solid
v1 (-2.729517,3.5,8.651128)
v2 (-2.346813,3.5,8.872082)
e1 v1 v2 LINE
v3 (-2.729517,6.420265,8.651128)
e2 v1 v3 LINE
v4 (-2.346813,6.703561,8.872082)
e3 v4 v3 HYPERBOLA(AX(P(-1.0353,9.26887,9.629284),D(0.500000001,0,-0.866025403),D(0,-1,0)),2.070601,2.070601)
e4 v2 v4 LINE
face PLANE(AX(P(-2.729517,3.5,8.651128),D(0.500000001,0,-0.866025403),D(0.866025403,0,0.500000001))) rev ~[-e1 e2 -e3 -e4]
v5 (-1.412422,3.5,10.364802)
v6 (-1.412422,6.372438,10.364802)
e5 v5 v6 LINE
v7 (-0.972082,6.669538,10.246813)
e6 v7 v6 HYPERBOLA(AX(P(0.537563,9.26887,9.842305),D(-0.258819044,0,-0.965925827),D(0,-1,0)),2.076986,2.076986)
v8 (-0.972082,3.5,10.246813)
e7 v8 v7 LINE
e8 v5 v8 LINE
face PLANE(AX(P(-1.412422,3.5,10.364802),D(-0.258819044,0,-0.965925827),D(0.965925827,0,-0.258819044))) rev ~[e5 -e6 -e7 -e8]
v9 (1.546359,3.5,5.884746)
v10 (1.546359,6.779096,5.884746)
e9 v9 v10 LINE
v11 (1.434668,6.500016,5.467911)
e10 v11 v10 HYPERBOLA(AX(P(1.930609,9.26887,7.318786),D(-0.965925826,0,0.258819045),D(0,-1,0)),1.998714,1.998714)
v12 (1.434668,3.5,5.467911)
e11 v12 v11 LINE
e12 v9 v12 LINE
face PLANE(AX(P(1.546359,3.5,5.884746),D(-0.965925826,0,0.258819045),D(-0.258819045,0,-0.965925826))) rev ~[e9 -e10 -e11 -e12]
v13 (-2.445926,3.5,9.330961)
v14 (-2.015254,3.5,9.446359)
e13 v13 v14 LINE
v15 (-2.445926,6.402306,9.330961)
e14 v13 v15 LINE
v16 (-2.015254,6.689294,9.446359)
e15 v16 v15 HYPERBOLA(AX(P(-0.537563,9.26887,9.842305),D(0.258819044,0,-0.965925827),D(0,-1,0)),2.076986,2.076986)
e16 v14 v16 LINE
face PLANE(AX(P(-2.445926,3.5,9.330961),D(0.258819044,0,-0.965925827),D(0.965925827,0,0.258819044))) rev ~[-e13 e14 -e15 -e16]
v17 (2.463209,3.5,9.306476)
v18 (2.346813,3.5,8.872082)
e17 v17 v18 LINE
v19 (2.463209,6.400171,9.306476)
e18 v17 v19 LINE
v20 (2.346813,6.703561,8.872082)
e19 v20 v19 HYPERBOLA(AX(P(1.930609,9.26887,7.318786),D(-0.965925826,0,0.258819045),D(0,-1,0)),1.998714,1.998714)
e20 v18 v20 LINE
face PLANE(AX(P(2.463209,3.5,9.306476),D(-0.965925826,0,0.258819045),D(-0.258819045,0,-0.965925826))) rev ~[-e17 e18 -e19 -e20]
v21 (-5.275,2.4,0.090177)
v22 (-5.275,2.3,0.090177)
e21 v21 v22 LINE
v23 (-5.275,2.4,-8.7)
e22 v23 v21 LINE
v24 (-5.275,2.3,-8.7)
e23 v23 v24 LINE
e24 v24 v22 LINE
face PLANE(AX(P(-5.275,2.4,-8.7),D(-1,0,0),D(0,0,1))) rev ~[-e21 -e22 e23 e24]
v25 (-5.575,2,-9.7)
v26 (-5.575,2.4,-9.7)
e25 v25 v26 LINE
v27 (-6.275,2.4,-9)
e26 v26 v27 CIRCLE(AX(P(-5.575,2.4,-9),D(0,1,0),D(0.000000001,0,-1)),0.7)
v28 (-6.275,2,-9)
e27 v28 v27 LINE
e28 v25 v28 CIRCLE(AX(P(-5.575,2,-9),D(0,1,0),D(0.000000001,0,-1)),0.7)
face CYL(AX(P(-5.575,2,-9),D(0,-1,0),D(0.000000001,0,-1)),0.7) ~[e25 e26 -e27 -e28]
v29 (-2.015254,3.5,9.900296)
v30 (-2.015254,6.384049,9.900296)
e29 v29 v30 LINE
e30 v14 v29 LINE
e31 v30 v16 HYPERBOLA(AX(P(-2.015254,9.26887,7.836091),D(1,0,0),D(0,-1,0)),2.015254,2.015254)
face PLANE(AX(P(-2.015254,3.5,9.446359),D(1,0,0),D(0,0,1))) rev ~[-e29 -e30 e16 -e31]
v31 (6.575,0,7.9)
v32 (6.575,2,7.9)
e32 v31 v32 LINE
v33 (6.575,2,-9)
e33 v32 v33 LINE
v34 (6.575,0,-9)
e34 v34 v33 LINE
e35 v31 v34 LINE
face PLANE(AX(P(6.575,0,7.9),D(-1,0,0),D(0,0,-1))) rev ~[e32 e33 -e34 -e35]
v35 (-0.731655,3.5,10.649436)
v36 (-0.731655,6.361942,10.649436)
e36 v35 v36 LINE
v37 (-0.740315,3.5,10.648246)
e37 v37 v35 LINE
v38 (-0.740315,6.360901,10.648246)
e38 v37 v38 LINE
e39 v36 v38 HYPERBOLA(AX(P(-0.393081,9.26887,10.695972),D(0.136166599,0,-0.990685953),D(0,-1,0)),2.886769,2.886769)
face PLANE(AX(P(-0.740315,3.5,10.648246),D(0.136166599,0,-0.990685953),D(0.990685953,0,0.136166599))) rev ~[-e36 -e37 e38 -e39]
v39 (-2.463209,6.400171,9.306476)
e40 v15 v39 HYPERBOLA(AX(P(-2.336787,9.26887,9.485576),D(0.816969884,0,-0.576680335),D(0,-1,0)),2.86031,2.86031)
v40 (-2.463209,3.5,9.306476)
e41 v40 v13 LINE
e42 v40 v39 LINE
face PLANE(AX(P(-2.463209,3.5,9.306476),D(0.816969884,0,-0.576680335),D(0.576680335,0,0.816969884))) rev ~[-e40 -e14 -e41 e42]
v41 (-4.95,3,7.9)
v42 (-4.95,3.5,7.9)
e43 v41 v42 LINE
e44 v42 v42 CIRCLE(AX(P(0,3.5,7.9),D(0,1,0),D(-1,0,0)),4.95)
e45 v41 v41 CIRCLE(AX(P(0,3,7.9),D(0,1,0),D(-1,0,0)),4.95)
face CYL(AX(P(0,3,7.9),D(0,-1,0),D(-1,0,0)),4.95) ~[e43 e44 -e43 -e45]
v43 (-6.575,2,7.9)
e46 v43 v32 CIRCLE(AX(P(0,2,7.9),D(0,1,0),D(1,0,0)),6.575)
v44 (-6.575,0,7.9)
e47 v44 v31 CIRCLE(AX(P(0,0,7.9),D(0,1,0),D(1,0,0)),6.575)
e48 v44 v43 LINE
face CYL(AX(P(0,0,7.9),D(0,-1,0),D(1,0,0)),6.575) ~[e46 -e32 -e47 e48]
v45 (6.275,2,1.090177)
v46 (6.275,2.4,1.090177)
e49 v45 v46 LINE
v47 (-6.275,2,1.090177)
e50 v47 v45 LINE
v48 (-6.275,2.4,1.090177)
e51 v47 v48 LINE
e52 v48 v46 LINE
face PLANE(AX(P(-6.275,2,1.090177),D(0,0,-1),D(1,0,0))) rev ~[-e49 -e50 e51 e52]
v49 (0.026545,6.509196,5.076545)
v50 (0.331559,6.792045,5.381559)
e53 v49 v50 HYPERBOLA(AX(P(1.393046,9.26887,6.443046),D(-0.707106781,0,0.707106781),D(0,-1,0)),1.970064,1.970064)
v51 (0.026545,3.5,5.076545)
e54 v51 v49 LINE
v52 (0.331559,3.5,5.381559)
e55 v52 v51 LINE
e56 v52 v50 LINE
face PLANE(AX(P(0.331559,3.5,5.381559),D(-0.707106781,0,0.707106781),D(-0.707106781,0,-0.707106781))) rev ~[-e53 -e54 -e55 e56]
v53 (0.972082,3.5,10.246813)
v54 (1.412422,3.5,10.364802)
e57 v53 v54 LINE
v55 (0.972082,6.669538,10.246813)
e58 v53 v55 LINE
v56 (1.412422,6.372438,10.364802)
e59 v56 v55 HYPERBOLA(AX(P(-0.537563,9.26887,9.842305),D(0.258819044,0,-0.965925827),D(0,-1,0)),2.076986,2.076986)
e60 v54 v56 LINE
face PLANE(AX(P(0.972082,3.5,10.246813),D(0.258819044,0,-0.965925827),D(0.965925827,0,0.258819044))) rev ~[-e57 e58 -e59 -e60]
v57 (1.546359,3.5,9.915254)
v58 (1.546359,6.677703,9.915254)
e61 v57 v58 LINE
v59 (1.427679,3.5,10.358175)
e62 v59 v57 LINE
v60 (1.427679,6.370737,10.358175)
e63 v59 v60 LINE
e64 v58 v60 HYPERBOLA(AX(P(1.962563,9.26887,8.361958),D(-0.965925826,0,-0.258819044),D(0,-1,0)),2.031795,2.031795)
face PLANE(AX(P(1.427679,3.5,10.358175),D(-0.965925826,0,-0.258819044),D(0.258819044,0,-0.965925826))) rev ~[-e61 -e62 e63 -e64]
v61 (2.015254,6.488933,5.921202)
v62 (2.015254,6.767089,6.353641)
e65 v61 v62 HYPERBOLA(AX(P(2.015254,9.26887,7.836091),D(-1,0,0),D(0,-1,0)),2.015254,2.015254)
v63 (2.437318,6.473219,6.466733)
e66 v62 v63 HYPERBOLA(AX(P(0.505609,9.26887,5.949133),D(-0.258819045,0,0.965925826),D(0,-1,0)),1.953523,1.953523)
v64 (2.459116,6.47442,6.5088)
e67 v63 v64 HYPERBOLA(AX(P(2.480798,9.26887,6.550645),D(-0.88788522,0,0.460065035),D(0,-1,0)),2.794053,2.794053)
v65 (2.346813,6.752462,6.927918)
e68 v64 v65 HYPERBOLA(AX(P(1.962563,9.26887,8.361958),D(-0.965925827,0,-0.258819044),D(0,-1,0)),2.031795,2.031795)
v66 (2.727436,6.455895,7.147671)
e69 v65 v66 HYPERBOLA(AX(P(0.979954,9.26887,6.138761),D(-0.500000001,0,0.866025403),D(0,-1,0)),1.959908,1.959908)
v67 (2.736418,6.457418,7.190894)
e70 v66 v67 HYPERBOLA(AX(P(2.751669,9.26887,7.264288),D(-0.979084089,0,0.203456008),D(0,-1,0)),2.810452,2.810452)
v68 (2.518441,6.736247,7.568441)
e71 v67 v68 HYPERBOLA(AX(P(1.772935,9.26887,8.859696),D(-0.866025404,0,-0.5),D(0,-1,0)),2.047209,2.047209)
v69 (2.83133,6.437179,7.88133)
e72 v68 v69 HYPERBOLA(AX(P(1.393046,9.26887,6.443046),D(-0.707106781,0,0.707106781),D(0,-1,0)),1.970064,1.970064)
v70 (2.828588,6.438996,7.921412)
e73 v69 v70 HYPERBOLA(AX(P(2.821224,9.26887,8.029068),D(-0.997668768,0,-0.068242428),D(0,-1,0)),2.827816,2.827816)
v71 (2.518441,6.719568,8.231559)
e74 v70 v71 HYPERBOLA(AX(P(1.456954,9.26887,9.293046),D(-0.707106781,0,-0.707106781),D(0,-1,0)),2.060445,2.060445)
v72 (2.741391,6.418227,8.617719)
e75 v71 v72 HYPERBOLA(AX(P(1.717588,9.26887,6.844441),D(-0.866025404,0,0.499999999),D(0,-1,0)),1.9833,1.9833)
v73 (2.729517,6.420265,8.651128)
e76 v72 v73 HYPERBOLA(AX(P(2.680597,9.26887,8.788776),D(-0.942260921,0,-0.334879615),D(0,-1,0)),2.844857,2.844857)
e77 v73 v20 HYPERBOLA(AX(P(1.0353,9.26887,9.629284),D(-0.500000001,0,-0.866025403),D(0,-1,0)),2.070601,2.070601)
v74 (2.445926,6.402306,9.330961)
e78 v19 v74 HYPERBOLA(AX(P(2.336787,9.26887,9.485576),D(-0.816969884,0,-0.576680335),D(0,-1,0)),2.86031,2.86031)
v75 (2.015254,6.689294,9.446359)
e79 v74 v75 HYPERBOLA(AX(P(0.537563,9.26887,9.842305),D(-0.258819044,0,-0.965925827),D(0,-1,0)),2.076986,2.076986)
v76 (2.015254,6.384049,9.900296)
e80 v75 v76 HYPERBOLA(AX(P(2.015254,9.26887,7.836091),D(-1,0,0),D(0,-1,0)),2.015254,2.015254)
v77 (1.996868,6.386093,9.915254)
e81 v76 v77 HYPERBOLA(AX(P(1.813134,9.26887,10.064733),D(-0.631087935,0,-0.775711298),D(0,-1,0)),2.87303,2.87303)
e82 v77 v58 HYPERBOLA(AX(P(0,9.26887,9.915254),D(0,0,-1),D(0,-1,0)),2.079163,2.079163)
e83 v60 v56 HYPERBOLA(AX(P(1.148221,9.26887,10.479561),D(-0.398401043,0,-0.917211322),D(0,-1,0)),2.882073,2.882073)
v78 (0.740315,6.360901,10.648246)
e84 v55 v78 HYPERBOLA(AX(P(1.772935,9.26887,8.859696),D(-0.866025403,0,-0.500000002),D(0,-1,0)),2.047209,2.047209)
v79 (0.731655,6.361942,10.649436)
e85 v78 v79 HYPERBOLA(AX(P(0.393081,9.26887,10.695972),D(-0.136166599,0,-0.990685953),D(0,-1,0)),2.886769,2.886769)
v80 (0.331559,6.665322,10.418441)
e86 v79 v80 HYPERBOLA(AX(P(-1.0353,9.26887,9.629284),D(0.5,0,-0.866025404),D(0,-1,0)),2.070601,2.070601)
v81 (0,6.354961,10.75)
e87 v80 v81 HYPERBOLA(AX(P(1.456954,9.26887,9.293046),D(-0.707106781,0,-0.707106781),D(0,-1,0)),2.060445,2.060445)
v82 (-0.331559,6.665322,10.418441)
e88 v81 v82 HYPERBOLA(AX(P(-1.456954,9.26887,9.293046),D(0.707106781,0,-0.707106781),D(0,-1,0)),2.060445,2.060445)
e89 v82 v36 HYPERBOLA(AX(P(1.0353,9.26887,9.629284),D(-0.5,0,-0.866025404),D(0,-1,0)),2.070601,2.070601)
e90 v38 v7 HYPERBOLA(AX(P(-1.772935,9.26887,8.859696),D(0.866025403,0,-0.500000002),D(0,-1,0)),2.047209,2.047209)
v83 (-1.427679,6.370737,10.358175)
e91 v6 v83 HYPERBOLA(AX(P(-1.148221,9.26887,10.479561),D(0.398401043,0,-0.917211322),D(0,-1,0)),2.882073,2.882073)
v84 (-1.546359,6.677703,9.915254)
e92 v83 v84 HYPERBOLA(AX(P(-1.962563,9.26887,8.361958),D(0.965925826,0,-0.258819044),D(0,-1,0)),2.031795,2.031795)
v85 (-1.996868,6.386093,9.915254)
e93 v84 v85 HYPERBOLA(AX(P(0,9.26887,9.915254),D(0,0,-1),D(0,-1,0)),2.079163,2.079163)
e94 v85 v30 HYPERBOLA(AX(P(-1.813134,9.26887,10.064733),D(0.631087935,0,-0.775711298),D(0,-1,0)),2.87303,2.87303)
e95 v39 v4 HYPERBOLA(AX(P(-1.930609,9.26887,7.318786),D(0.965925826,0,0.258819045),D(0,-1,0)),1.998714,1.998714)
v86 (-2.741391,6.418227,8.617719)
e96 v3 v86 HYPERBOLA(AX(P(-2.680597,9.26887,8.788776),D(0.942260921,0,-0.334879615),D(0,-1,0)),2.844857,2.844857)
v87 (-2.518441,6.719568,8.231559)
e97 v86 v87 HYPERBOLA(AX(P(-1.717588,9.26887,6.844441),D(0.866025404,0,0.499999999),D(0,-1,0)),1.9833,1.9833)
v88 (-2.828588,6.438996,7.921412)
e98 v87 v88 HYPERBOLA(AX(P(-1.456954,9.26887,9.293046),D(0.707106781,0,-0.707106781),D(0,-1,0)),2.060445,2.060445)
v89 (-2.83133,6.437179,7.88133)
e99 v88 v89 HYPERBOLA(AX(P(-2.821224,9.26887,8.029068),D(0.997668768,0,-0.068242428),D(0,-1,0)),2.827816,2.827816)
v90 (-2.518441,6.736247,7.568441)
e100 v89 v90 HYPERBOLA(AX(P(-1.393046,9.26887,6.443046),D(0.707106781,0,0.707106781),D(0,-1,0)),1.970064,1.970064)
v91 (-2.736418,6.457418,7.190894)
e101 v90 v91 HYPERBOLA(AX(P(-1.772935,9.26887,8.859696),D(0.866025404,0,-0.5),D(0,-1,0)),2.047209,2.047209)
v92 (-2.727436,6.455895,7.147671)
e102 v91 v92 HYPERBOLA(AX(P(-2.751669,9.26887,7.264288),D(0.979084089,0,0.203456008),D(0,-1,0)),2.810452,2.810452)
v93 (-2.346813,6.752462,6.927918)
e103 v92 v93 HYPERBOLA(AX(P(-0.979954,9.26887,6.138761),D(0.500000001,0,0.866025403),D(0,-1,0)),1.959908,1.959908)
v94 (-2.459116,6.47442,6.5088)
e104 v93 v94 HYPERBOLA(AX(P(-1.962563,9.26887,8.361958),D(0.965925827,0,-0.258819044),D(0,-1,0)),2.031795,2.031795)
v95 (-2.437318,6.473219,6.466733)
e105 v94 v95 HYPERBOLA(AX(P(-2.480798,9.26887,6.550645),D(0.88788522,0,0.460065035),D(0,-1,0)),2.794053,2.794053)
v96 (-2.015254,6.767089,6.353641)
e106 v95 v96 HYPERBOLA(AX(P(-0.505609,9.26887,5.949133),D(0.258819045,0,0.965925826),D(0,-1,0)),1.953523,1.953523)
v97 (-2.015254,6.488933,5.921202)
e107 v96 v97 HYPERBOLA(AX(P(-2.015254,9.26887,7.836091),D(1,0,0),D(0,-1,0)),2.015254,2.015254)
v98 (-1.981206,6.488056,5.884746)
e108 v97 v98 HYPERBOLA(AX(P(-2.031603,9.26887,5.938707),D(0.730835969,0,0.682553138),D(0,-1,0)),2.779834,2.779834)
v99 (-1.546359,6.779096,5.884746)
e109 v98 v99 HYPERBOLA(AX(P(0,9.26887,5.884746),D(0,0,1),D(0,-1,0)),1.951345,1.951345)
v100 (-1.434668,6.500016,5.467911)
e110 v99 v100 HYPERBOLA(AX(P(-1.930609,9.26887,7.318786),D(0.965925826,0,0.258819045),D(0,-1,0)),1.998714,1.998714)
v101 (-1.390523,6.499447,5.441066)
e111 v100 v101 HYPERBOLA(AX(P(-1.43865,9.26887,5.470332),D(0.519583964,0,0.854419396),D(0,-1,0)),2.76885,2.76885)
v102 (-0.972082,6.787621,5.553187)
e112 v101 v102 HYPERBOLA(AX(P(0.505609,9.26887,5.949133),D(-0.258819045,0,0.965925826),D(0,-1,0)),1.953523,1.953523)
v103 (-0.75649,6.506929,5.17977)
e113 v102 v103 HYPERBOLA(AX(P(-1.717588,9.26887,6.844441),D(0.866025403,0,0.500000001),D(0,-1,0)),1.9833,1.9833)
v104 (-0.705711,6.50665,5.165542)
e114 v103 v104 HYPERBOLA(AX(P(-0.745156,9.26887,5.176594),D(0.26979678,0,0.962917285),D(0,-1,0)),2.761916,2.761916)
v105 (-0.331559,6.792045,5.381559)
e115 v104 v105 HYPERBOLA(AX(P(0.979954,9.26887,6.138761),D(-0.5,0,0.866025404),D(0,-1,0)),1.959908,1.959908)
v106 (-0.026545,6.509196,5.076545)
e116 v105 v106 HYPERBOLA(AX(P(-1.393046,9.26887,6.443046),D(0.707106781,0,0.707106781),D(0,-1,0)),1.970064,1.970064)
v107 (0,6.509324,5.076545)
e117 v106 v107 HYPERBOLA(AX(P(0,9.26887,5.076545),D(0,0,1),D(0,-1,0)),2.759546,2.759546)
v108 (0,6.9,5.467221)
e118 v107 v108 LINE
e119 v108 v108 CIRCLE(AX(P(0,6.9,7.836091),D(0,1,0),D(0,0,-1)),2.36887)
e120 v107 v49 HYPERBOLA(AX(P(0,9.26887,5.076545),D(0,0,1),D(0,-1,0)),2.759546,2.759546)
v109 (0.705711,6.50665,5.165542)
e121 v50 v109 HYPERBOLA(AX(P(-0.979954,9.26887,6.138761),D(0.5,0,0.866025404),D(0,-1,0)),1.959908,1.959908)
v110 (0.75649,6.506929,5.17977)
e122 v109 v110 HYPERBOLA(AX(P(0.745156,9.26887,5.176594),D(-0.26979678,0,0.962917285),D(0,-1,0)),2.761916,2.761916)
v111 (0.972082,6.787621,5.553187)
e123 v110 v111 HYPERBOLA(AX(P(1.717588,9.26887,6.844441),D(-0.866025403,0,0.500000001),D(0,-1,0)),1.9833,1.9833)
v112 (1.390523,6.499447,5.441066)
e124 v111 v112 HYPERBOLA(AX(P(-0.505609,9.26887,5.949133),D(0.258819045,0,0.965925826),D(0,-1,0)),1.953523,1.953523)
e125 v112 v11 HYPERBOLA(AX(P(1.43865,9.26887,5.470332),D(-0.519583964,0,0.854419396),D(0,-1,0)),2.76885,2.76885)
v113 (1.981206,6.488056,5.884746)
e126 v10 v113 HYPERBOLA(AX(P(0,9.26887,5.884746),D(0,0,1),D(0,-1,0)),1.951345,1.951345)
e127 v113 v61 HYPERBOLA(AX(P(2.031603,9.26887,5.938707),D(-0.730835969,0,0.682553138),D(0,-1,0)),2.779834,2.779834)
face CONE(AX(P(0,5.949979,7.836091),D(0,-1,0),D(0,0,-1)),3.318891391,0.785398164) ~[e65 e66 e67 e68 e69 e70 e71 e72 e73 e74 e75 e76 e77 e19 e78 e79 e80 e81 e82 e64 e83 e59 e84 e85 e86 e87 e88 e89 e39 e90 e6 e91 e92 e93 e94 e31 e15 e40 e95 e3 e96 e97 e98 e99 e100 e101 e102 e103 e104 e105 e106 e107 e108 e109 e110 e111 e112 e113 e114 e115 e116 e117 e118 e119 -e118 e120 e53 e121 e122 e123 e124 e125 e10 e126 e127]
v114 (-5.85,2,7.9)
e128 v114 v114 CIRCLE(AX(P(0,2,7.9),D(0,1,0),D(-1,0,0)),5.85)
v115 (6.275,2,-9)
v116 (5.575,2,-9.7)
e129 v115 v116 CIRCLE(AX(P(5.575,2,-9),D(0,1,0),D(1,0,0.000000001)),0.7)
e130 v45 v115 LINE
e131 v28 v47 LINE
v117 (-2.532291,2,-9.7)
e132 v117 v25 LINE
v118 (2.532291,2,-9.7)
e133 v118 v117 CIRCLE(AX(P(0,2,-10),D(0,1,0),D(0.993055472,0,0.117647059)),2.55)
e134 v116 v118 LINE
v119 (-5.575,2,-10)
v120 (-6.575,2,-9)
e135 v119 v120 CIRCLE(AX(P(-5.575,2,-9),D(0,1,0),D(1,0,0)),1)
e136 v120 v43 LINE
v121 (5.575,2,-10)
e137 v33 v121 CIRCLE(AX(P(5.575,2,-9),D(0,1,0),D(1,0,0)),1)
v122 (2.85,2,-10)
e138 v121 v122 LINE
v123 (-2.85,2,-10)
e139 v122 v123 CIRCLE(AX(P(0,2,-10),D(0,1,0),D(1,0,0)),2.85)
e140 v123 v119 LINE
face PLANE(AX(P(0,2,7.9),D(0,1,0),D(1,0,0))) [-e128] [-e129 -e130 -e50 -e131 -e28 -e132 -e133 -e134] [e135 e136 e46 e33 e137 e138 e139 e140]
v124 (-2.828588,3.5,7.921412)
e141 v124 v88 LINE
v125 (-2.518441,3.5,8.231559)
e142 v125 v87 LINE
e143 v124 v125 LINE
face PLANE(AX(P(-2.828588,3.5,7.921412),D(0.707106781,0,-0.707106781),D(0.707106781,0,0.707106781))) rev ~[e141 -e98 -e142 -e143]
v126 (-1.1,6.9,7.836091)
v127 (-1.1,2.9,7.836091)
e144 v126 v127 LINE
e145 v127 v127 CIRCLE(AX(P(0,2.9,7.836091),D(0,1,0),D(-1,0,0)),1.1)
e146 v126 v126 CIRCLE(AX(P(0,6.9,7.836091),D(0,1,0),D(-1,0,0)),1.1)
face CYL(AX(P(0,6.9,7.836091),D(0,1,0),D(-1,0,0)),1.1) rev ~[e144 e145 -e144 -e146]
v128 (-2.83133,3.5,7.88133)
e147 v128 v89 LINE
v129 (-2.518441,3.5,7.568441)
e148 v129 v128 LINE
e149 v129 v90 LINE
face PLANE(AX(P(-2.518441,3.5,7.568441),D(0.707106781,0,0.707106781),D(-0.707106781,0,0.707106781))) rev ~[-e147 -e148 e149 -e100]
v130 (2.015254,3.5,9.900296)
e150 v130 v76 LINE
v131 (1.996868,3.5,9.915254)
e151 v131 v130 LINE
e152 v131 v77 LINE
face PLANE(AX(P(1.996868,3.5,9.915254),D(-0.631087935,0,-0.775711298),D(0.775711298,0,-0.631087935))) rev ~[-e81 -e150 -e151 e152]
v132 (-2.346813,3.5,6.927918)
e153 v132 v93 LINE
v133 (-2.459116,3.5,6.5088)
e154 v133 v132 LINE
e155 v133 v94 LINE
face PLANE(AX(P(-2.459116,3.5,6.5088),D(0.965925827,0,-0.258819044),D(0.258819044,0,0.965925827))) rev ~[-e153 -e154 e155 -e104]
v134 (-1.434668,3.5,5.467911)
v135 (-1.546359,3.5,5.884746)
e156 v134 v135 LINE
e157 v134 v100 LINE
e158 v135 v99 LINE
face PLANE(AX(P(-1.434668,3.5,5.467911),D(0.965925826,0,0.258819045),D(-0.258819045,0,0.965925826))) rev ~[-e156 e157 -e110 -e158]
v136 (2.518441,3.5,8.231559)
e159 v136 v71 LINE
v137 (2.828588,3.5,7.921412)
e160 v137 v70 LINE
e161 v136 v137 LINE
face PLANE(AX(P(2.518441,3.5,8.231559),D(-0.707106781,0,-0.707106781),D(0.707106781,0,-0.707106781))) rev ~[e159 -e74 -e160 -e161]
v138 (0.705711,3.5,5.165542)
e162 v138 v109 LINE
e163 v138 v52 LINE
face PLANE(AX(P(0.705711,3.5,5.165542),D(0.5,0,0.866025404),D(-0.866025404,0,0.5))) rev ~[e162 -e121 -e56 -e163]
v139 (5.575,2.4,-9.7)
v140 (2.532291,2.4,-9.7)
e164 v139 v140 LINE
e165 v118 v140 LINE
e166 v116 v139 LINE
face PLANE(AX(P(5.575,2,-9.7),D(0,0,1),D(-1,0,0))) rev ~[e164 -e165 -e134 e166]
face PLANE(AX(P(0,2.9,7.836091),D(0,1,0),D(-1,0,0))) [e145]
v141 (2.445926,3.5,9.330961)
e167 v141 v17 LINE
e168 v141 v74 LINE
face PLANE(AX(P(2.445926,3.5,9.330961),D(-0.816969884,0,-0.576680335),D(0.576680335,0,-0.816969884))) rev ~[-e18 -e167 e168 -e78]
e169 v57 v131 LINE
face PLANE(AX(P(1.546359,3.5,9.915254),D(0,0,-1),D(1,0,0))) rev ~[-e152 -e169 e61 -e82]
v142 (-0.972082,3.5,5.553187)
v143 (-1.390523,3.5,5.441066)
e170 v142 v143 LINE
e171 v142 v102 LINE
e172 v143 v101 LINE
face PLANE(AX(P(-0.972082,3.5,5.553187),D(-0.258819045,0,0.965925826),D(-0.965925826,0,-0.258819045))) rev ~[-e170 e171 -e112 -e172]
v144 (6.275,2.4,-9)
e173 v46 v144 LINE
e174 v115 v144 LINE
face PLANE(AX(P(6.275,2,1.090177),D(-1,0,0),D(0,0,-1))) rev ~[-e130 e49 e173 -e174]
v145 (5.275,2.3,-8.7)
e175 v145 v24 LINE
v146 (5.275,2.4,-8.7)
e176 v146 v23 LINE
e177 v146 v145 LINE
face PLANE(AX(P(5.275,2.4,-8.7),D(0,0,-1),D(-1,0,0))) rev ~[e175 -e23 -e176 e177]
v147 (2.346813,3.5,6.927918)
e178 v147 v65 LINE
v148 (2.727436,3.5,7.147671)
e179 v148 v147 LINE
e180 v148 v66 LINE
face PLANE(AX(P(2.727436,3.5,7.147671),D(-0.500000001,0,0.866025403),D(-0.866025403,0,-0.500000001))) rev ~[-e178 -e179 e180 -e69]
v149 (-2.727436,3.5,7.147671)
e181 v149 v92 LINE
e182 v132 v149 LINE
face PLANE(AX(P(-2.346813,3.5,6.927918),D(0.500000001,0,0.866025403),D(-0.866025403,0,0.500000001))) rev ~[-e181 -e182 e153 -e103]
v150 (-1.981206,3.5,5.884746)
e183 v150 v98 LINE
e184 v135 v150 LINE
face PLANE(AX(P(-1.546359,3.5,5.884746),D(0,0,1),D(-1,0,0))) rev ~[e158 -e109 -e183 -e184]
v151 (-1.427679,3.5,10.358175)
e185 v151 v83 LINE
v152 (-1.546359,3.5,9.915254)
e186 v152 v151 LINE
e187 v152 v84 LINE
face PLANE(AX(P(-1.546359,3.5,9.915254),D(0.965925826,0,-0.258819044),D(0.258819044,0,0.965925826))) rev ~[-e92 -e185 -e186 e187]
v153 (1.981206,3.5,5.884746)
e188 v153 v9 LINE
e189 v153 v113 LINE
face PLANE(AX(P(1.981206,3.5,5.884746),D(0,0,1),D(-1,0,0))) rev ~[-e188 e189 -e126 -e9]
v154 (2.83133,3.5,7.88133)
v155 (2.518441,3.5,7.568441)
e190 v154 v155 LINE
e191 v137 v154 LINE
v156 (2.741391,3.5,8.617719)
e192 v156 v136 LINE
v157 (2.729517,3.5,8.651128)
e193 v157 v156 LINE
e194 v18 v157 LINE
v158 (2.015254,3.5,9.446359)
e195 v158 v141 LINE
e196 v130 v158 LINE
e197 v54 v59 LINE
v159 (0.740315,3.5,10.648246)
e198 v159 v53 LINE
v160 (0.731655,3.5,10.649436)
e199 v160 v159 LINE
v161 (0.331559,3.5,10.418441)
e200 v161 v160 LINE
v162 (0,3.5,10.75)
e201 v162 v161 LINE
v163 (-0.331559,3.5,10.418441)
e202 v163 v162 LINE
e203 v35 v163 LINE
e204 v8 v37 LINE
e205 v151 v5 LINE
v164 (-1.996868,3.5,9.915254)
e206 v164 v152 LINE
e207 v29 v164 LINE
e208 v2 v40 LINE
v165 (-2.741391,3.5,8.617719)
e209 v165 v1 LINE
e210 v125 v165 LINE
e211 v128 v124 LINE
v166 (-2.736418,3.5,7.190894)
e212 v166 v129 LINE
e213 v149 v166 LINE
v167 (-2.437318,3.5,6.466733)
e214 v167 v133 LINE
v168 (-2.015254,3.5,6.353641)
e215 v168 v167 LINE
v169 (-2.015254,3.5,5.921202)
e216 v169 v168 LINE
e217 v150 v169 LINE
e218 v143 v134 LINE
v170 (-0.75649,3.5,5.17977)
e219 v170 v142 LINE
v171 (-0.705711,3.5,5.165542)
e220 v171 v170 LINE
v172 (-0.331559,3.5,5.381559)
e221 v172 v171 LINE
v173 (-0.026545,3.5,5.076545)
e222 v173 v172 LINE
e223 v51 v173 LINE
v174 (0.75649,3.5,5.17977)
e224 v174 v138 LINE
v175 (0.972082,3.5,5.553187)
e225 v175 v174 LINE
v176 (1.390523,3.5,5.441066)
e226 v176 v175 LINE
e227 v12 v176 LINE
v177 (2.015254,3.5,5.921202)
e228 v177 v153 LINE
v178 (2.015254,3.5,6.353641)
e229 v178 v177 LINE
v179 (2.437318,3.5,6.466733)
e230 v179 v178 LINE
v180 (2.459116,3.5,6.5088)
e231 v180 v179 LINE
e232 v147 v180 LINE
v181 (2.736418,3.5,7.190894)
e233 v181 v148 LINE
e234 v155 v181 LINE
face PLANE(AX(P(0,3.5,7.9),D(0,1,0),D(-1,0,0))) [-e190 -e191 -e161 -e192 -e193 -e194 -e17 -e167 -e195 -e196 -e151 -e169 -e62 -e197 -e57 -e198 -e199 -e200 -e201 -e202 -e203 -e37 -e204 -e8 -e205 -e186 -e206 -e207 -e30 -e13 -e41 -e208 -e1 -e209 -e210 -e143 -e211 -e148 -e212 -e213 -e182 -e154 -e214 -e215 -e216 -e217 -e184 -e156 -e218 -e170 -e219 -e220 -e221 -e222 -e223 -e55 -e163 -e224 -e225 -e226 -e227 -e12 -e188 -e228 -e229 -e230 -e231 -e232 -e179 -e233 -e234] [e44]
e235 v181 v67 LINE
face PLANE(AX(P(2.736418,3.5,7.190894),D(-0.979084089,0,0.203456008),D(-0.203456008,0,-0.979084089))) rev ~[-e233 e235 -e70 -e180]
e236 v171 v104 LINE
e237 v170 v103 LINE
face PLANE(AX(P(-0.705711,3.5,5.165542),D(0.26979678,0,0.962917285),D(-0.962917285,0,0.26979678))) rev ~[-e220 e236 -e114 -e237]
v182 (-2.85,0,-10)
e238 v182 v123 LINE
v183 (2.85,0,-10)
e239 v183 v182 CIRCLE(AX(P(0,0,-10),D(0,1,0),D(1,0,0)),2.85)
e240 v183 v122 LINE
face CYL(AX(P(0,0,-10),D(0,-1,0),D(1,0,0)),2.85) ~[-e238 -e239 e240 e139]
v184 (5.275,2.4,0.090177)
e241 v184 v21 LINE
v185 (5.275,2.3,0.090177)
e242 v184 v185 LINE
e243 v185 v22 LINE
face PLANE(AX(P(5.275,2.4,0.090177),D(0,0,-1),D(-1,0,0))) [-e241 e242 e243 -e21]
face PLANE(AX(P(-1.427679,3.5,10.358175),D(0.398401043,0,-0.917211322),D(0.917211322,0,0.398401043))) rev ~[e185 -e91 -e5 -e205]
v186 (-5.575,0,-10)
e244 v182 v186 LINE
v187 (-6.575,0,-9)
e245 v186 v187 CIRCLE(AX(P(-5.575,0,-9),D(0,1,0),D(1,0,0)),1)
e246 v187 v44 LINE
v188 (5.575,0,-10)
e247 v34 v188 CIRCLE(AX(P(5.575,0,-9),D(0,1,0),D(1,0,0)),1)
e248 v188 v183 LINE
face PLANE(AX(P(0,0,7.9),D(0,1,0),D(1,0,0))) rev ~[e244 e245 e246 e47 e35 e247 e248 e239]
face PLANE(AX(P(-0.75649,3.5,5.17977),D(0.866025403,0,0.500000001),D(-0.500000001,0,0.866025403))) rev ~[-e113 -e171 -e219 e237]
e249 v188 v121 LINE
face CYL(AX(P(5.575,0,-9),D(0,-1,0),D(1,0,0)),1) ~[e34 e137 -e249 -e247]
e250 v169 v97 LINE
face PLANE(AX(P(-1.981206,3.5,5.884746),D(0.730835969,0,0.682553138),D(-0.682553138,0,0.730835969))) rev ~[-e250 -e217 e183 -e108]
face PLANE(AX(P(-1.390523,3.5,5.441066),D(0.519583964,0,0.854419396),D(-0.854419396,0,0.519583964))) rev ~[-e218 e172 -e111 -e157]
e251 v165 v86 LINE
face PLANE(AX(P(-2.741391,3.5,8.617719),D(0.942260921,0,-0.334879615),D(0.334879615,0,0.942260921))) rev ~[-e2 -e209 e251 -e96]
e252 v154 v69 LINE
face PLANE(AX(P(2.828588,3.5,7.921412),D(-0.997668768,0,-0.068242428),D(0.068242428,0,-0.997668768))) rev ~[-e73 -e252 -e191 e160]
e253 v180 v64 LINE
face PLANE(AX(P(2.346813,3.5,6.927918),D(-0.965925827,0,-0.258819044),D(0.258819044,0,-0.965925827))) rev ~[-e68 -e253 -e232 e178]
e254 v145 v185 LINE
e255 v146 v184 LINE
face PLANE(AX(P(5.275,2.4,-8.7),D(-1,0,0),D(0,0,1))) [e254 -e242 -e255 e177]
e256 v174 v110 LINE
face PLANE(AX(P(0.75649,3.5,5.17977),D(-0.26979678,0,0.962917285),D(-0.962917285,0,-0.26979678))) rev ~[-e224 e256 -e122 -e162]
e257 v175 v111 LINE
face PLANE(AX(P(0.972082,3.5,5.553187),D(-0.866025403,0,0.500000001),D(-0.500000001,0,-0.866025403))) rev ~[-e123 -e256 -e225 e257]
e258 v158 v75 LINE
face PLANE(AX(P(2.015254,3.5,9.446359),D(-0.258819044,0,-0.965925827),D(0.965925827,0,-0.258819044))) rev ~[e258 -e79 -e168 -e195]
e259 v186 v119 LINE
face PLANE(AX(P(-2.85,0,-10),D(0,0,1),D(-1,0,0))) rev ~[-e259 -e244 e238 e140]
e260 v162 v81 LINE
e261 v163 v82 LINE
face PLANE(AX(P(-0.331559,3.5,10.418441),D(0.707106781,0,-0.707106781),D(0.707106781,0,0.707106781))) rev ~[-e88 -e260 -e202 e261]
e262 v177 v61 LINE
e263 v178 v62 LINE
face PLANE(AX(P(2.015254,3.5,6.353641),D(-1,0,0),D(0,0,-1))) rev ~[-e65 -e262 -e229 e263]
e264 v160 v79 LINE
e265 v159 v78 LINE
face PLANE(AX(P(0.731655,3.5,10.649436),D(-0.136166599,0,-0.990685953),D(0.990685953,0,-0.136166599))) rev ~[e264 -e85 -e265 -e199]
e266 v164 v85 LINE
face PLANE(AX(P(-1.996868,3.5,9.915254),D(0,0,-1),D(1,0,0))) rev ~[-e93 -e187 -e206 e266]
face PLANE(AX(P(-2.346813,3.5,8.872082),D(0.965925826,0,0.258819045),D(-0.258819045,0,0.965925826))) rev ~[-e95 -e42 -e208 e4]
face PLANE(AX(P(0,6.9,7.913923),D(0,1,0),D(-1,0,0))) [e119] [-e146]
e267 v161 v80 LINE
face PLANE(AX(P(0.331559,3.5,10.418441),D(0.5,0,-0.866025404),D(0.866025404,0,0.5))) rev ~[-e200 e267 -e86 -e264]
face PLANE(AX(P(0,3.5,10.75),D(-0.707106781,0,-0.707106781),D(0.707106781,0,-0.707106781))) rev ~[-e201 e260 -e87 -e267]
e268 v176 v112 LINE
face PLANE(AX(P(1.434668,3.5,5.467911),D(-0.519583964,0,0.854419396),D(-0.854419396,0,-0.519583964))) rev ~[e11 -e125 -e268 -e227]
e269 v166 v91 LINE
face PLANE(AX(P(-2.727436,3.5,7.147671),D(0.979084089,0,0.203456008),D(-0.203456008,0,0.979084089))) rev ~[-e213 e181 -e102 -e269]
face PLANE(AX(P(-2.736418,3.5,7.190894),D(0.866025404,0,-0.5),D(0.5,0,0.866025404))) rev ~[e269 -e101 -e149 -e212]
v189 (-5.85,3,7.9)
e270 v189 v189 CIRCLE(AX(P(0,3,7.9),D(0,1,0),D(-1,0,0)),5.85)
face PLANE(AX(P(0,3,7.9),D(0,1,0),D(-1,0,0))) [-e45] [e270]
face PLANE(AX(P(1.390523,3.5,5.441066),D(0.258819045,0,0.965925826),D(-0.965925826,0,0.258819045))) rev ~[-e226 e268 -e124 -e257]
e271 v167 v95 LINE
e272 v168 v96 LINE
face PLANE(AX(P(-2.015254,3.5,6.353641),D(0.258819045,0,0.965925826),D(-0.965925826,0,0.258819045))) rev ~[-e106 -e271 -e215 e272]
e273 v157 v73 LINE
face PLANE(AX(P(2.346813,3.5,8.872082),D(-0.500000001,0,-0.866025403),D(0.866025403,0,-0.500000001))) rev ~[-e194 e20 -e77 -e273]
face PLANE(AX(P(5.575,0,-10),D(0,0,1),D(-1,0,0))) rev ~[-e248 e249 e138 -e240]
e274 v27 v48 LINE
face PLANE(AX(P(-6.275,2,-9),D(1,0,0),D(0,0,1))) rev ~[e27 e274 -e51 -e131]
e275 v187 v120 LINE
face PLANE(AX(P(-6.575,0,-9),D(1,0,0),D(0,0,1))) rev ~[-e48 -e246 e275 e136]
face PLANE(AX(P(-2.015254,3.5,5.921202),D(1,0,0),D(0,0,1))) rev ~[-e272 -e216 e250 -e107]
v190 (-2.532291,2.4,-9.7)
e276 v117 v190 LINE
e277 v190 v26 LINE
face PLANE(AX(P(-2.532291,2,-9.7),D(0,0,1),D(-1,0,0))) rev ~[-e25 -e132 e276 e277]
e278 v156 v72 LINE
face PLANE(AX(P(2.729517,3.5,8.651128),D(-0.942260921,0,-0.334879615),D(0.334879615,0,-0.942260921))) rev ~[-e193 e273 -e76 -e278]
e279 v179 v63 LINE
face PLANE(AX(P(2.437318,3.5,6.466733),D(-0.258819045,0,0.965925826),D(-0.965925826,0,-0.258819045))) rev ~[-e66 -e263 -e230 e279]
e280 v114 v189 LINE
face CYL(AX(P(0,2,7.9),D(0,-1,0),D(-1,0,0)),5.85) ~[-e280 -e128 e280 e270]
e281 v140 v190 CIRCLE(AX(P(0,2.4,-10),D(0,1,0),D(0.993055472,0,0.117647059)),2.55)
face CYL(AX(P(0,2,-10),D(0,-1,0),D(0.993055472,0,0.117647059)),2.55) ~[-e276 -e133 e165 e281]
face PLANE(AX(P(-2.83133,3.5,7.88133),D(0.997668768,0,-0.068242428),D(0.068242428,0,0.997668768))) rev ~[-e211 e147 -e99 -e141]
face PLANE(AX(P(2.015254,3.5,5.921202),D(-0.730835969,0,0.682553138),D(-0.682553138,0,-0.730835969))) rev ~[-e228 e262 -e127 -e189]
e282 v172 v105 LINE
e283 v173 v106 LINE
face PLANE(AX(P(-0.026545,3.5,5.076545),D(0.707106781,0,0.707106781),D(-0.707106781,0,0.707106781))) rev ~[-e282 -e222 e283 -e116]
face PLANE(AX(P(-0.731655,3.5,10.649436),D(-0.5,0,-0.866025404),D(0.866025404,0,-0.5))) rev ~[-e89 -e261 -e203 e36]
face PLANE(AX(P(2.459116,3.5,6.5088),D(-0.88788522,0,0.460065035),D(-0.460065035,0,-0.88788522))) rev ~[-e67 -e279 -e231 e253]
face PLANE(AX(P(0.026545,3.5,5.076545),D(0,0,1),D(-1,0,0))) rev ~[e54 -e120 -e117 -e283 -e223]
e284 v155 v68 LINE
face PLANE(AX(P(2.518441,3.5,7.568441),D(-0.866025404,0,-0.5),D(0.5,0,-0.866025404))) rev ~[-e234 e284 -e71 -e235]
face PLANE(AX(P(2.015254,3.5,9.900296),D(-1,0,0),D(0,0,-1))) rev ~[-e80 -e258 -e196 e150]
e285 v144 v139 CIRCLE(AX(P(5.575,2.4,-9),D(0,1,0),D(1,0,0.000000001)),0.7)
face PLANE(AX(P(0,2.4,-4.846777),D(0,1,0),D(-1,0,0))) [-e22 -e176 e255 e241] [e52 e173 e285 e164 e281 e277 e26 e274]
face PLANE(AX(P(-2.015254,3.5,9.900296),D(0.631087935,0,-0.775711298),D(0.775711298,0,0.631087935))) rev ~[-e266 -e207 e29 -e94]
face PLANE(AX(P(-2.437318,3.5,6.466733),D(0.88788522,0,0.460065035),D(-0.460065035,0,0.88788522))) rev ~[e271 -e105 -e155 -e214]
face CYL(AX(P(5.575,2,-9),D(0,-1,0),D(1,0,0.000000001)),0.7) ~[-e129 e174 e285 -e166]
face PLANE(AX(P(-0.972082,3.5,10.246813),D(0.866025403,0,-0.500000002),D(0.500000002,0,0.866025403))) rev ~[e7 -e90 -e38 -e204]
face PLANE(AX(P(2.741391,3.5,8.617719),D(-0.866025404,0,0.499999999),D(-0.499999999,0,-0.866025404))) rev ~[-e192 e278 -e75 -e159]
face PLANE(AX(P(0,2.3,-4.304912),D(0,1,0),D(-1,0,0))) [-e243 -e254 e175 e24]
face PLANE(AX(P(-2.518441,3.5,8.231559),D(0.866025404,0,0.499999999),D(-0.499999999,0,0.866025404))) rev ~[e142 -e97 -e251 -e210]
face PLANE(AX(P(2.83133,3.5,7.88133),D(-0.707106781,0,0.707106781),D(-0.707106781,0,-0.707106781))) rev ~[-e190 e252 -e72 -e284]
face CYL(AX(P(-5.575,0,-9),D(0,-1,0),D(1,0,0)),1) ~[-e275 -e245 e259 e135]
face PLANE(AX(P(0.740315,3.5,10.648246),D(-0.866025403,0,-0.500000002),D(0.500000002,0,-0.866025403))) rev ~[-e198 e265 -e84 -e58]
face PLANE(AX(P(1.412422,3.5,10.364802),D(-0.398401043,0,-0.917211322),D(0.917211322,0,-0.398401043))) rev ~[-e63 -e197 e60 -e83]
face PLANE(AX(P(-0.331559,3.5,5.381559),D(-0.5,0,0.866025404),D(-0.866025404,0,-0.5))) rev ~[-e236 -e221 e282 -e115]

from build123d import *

# Parameters (mm, degrees)
SKETCH1_R           = 6.575
SKETCH1_R_2         = 1
BOSS_EXTRUDE1_DEPTH = 2
SKETCH2_R           = 5.85
BOSS_EXTRUDE2_DEPTH = 1
SKETCH3_R           = 4.95
BOSS_EXTRUDE3_DEPTH = 0.5
BOSS_EXTRUDE4_DEPTH = 3.4
SKETCH6_R           = 1.1
CUT_EXTRUDE1_DEPTH  = 4
BOSS_EXTRUDE5_DEPTH = 0.4
SKETCH8_W           = 10.55
SKETCH8_H           = 8.790176683
CUT_EXTRUDE2_DEPTH  = 0.1


with BuildPart() as part:
    # Sketch1 → Boss-Extrude1 (new body)
    with BuildSketch(Plane(origin=(0, 0, 0), x_dir=(1, 0, 0), z_dir=(0, 1, 0))):
        with Locations((0, -7.9)):
            Circle(SKETCH1_R)
        with BuildLine():
            Line((-2.85, 10), (-5.575, 10))
            ThreePointArc((-5.575, 10), (-4.867893219, 9.707106781), (-4.575, 9))
            ThreePointArc((-4.575, 9), (-5.574999999, 8), (-6.575, 8.999999999))
            Line((-6.575, 8.999999999), (-6.575, -7.9))
            ThreePointArc((-6.575, -7.9), (0, -1.325), (6.575, -7.9))
            Line((6.575, -7.9), (6.575, 9))
            ThreePointArc((6.575, 9), (4.867893224, 8.292893214), (5.574999986, 10))
            Line((5.574999986, 10), (2.85, 10))
            ThreePointArc((2.85, 10), (0, 7.15), (-2.85, 10))
        make_face()
        with Locations((-5.575, 9)):
            Circle(SKETCH1_R_2)
        with BuildLine():
            ThreePointArc((2.85, 10), (0, 12.85), (-2.85, 10))
            Line((-2.85, 10), (2.85, 10))
        make_face()
        with BuildLine():
            Line((2.85, 10), (-2.85, 10))
            ThreePointArc((-2.85, 10), (0, 7.15), (2.85, 10))
        make_face()
        with Locations((5.575, 9)):
            Circle(SKETCH1_R_2)
    extrude(amount=BOSS_EXTRUDE1_DEPTH)

    # Sketch2 → Boss-Extrude2 (add)
    with BuildSketch(Plane(origin=(0, 2, 0), x_dir=(-1, 0, 0), z_dir=(0, 1, 0))):
        with Locations((0, 7.9)):
            Circle(SKETCH2_R)
    extrude(amount=BOSS_EXTRUDE2_DEPTH)

    # Sketch3 → Boss-Extrude3 (add)
    with BuildSketch(Plane(origin=(0, 3, 0), x_dir=(-1, 0, 0), z_dir=(0, 1, 0))):
        with Locations((0, 7.9)):
            Circle(SKETCH3_R)
    extrude(amount=BOSS_EXTRUDE3_DEPTH)

    # Sketch4 → Boss-Extrude4 (add)
    with BuildSketch(Plane(origin=(0, 3.5, 0), x_dir=(-1, 0, 0), z_dir=(0, 1, 0))):
        Polygon((2.736417755, 7.190894071), (2.518440958, 7.568440958), (2.831329546, 7.881329546), (2.828587818, 7.921412182), (2.518440958, 8.231559042), (2.741390732, 8.617719379), (2.729517437, 8.651127629), (2.346813369, 8.872081926), (2.463209043, 9.306476495), (2.445926072, 9.330960886), (2.015254326, 9.446359032), (2.015254326, 9.900296057), (1.996868143, 9.915254326), (1.546359032, 9.915254326), (1.427678707, 10.35817533), (1.412422166, 10.36480218), (0.972081926, 10.246813369), (0.740314632, 10.648246096), (0.731654815, 10.64943636), (0.331559042, 10.418440958), (0, 10.75), (-0.331559042, 10.418440958), (-0.731654815, 10.64943636), (-0.740314632, 10.648246096), (-0.972081926, 10.246813369), (-1.412422166, 10.36480218), (-1.427678707, 10.35817533), (-1.546359032, 9.915254326), (-1.996868143, 9.915254326), (-2.015254326, 9.900296057), (-2.015254326, 9.446359032), (-2.445926072, 9.330960886), (-2.463209043, 9.306476495), (-2.346813369, 8.872081926), (-2.729517437, 8.651127629), (-2.741390732, 8.617719379), (-2.518440958, 8.231559042), (-2.828587818, 7.921412182), (-2.831329546, 7.881329546), (-2.518440958, 7.568440958), (-2.736417755, 7.190894071), (-2.727435802, 7.147670539), (-2.346813369, 6.927918074), (-2.459115706, 6.508800044), (-2.437318125, 6.466732622), (-2.015254326, 6.353640968), (-2.015254326, 5.921202275), (-1.981206238, 5.884745674), (-1.546359032, 5.884745674), (-1.434668452, 5.467910755), (-1.390523426, 5.441065569), (-0.972081926, 5.553186631), (-0.756489757, 5.179770042), (-0.705710775, 5.165542438), (-0.331559042, 5.381559042), (-0.026545054, 5.076545054), (0.026545054, 5.076545054), (0.331559042, 5.381559042), (0.705710775, 5.165542438), (0.756489757, 5.179770042), (0.972081926, 5.553186631), (1.390523426, 5.441065569), (1.434668452, 5.467910755), (1.546359032, 5.884745674), (1.981206238, 5.884745674), (2.015254326, 5.921202275), (2.015254326, 6.353640968), (2.437318125, 6.466732622), (2.459115706, 6.508800044), (2.346813369, 6.927918074), (2.727435802, 7.147670539), align=None)
    extrude(amount=BOSS_EXTRUDE4_DEPTH)

    # Sketch5 → Cut-Revolve1 (revolve, cut)
    with BuildSketch(Plane(origin=(0, 0, 0), x_dir=(0, 0, -1), z_dir=(1, 0, 0))):
        Polygon((-5.867221225, 7.3), (-4.517199782, 7.3), (-4.517199782, 5.949978558), align=None)
    revolve(axis=Axis((0, 8.077813164, 7.836091173), (0, -1, 0)), mode=Mode.SUBTRACT)

    # Sketch6 → Cut-Extrude1 (cut)
    with BuildSketch(Plane(origin=(0, 6.9, 0), x_dir=(-1, 0, 0), z_dir=(0, 1, 0))):
        with Locations((0, 7.836091173)):
            Circle(SKETCH6_R)
    extrude(amount=-CUT_EXTRUDE1_DEPTH, mode=Mode.SUBTRACT)

    # Sketch7 → Boss-Extrude5 (add)
    with BuildSketch(Plane(origin=(0, 2, 0), x_dir=(-1, 0, 0), z_dir=(0, 1, 0))):
        with BuildLine():
            Line((2.532291452, -9.7), (5.575, -9.7))
            ThreePointArc((5.575, -9.7), (6.069974747, -9.494974747), (6.275, -9))
            Line((6.275, -9), (6.275, 1.090176683))
            Line((6.275, 1.090176683), (-6.275, 1.090176683))
            Line((-6.275, 1.090176683), (-6.275, -1.654552581))
            Line((-6.275, -1.654552581), (-6.275, -9))
            ThreePointArc((-6.275, -9), (-6.069974747, -9.494974747), (-5.575, -9.7))
            Line((-5.575, -9.7), (-2.532291452, -9.7))
            ThreePointArc((-2.532291452, -9.7), (0, -12.55), (2.532291452, -9.7))
        make_face()
    extrude(amount=BOSS_EXTRUDE5_DEPTH)

    # Sketch8 → Cut-Extrude2 (cut)
    with BuildSketch(Plane(origin=(0, 2.4, 0), x_dir=(-1, 0, 0), z_dir=(0, 1, 0))):
        with Locations((0, -4.304911659)):
            Rectangle(SKETCH8_W, SKETCH8_H)
    extrude(amount=-CUT_EXTRUDE2_DEPTH, mode=Mode.SUBTRACT)


solid = part.part
